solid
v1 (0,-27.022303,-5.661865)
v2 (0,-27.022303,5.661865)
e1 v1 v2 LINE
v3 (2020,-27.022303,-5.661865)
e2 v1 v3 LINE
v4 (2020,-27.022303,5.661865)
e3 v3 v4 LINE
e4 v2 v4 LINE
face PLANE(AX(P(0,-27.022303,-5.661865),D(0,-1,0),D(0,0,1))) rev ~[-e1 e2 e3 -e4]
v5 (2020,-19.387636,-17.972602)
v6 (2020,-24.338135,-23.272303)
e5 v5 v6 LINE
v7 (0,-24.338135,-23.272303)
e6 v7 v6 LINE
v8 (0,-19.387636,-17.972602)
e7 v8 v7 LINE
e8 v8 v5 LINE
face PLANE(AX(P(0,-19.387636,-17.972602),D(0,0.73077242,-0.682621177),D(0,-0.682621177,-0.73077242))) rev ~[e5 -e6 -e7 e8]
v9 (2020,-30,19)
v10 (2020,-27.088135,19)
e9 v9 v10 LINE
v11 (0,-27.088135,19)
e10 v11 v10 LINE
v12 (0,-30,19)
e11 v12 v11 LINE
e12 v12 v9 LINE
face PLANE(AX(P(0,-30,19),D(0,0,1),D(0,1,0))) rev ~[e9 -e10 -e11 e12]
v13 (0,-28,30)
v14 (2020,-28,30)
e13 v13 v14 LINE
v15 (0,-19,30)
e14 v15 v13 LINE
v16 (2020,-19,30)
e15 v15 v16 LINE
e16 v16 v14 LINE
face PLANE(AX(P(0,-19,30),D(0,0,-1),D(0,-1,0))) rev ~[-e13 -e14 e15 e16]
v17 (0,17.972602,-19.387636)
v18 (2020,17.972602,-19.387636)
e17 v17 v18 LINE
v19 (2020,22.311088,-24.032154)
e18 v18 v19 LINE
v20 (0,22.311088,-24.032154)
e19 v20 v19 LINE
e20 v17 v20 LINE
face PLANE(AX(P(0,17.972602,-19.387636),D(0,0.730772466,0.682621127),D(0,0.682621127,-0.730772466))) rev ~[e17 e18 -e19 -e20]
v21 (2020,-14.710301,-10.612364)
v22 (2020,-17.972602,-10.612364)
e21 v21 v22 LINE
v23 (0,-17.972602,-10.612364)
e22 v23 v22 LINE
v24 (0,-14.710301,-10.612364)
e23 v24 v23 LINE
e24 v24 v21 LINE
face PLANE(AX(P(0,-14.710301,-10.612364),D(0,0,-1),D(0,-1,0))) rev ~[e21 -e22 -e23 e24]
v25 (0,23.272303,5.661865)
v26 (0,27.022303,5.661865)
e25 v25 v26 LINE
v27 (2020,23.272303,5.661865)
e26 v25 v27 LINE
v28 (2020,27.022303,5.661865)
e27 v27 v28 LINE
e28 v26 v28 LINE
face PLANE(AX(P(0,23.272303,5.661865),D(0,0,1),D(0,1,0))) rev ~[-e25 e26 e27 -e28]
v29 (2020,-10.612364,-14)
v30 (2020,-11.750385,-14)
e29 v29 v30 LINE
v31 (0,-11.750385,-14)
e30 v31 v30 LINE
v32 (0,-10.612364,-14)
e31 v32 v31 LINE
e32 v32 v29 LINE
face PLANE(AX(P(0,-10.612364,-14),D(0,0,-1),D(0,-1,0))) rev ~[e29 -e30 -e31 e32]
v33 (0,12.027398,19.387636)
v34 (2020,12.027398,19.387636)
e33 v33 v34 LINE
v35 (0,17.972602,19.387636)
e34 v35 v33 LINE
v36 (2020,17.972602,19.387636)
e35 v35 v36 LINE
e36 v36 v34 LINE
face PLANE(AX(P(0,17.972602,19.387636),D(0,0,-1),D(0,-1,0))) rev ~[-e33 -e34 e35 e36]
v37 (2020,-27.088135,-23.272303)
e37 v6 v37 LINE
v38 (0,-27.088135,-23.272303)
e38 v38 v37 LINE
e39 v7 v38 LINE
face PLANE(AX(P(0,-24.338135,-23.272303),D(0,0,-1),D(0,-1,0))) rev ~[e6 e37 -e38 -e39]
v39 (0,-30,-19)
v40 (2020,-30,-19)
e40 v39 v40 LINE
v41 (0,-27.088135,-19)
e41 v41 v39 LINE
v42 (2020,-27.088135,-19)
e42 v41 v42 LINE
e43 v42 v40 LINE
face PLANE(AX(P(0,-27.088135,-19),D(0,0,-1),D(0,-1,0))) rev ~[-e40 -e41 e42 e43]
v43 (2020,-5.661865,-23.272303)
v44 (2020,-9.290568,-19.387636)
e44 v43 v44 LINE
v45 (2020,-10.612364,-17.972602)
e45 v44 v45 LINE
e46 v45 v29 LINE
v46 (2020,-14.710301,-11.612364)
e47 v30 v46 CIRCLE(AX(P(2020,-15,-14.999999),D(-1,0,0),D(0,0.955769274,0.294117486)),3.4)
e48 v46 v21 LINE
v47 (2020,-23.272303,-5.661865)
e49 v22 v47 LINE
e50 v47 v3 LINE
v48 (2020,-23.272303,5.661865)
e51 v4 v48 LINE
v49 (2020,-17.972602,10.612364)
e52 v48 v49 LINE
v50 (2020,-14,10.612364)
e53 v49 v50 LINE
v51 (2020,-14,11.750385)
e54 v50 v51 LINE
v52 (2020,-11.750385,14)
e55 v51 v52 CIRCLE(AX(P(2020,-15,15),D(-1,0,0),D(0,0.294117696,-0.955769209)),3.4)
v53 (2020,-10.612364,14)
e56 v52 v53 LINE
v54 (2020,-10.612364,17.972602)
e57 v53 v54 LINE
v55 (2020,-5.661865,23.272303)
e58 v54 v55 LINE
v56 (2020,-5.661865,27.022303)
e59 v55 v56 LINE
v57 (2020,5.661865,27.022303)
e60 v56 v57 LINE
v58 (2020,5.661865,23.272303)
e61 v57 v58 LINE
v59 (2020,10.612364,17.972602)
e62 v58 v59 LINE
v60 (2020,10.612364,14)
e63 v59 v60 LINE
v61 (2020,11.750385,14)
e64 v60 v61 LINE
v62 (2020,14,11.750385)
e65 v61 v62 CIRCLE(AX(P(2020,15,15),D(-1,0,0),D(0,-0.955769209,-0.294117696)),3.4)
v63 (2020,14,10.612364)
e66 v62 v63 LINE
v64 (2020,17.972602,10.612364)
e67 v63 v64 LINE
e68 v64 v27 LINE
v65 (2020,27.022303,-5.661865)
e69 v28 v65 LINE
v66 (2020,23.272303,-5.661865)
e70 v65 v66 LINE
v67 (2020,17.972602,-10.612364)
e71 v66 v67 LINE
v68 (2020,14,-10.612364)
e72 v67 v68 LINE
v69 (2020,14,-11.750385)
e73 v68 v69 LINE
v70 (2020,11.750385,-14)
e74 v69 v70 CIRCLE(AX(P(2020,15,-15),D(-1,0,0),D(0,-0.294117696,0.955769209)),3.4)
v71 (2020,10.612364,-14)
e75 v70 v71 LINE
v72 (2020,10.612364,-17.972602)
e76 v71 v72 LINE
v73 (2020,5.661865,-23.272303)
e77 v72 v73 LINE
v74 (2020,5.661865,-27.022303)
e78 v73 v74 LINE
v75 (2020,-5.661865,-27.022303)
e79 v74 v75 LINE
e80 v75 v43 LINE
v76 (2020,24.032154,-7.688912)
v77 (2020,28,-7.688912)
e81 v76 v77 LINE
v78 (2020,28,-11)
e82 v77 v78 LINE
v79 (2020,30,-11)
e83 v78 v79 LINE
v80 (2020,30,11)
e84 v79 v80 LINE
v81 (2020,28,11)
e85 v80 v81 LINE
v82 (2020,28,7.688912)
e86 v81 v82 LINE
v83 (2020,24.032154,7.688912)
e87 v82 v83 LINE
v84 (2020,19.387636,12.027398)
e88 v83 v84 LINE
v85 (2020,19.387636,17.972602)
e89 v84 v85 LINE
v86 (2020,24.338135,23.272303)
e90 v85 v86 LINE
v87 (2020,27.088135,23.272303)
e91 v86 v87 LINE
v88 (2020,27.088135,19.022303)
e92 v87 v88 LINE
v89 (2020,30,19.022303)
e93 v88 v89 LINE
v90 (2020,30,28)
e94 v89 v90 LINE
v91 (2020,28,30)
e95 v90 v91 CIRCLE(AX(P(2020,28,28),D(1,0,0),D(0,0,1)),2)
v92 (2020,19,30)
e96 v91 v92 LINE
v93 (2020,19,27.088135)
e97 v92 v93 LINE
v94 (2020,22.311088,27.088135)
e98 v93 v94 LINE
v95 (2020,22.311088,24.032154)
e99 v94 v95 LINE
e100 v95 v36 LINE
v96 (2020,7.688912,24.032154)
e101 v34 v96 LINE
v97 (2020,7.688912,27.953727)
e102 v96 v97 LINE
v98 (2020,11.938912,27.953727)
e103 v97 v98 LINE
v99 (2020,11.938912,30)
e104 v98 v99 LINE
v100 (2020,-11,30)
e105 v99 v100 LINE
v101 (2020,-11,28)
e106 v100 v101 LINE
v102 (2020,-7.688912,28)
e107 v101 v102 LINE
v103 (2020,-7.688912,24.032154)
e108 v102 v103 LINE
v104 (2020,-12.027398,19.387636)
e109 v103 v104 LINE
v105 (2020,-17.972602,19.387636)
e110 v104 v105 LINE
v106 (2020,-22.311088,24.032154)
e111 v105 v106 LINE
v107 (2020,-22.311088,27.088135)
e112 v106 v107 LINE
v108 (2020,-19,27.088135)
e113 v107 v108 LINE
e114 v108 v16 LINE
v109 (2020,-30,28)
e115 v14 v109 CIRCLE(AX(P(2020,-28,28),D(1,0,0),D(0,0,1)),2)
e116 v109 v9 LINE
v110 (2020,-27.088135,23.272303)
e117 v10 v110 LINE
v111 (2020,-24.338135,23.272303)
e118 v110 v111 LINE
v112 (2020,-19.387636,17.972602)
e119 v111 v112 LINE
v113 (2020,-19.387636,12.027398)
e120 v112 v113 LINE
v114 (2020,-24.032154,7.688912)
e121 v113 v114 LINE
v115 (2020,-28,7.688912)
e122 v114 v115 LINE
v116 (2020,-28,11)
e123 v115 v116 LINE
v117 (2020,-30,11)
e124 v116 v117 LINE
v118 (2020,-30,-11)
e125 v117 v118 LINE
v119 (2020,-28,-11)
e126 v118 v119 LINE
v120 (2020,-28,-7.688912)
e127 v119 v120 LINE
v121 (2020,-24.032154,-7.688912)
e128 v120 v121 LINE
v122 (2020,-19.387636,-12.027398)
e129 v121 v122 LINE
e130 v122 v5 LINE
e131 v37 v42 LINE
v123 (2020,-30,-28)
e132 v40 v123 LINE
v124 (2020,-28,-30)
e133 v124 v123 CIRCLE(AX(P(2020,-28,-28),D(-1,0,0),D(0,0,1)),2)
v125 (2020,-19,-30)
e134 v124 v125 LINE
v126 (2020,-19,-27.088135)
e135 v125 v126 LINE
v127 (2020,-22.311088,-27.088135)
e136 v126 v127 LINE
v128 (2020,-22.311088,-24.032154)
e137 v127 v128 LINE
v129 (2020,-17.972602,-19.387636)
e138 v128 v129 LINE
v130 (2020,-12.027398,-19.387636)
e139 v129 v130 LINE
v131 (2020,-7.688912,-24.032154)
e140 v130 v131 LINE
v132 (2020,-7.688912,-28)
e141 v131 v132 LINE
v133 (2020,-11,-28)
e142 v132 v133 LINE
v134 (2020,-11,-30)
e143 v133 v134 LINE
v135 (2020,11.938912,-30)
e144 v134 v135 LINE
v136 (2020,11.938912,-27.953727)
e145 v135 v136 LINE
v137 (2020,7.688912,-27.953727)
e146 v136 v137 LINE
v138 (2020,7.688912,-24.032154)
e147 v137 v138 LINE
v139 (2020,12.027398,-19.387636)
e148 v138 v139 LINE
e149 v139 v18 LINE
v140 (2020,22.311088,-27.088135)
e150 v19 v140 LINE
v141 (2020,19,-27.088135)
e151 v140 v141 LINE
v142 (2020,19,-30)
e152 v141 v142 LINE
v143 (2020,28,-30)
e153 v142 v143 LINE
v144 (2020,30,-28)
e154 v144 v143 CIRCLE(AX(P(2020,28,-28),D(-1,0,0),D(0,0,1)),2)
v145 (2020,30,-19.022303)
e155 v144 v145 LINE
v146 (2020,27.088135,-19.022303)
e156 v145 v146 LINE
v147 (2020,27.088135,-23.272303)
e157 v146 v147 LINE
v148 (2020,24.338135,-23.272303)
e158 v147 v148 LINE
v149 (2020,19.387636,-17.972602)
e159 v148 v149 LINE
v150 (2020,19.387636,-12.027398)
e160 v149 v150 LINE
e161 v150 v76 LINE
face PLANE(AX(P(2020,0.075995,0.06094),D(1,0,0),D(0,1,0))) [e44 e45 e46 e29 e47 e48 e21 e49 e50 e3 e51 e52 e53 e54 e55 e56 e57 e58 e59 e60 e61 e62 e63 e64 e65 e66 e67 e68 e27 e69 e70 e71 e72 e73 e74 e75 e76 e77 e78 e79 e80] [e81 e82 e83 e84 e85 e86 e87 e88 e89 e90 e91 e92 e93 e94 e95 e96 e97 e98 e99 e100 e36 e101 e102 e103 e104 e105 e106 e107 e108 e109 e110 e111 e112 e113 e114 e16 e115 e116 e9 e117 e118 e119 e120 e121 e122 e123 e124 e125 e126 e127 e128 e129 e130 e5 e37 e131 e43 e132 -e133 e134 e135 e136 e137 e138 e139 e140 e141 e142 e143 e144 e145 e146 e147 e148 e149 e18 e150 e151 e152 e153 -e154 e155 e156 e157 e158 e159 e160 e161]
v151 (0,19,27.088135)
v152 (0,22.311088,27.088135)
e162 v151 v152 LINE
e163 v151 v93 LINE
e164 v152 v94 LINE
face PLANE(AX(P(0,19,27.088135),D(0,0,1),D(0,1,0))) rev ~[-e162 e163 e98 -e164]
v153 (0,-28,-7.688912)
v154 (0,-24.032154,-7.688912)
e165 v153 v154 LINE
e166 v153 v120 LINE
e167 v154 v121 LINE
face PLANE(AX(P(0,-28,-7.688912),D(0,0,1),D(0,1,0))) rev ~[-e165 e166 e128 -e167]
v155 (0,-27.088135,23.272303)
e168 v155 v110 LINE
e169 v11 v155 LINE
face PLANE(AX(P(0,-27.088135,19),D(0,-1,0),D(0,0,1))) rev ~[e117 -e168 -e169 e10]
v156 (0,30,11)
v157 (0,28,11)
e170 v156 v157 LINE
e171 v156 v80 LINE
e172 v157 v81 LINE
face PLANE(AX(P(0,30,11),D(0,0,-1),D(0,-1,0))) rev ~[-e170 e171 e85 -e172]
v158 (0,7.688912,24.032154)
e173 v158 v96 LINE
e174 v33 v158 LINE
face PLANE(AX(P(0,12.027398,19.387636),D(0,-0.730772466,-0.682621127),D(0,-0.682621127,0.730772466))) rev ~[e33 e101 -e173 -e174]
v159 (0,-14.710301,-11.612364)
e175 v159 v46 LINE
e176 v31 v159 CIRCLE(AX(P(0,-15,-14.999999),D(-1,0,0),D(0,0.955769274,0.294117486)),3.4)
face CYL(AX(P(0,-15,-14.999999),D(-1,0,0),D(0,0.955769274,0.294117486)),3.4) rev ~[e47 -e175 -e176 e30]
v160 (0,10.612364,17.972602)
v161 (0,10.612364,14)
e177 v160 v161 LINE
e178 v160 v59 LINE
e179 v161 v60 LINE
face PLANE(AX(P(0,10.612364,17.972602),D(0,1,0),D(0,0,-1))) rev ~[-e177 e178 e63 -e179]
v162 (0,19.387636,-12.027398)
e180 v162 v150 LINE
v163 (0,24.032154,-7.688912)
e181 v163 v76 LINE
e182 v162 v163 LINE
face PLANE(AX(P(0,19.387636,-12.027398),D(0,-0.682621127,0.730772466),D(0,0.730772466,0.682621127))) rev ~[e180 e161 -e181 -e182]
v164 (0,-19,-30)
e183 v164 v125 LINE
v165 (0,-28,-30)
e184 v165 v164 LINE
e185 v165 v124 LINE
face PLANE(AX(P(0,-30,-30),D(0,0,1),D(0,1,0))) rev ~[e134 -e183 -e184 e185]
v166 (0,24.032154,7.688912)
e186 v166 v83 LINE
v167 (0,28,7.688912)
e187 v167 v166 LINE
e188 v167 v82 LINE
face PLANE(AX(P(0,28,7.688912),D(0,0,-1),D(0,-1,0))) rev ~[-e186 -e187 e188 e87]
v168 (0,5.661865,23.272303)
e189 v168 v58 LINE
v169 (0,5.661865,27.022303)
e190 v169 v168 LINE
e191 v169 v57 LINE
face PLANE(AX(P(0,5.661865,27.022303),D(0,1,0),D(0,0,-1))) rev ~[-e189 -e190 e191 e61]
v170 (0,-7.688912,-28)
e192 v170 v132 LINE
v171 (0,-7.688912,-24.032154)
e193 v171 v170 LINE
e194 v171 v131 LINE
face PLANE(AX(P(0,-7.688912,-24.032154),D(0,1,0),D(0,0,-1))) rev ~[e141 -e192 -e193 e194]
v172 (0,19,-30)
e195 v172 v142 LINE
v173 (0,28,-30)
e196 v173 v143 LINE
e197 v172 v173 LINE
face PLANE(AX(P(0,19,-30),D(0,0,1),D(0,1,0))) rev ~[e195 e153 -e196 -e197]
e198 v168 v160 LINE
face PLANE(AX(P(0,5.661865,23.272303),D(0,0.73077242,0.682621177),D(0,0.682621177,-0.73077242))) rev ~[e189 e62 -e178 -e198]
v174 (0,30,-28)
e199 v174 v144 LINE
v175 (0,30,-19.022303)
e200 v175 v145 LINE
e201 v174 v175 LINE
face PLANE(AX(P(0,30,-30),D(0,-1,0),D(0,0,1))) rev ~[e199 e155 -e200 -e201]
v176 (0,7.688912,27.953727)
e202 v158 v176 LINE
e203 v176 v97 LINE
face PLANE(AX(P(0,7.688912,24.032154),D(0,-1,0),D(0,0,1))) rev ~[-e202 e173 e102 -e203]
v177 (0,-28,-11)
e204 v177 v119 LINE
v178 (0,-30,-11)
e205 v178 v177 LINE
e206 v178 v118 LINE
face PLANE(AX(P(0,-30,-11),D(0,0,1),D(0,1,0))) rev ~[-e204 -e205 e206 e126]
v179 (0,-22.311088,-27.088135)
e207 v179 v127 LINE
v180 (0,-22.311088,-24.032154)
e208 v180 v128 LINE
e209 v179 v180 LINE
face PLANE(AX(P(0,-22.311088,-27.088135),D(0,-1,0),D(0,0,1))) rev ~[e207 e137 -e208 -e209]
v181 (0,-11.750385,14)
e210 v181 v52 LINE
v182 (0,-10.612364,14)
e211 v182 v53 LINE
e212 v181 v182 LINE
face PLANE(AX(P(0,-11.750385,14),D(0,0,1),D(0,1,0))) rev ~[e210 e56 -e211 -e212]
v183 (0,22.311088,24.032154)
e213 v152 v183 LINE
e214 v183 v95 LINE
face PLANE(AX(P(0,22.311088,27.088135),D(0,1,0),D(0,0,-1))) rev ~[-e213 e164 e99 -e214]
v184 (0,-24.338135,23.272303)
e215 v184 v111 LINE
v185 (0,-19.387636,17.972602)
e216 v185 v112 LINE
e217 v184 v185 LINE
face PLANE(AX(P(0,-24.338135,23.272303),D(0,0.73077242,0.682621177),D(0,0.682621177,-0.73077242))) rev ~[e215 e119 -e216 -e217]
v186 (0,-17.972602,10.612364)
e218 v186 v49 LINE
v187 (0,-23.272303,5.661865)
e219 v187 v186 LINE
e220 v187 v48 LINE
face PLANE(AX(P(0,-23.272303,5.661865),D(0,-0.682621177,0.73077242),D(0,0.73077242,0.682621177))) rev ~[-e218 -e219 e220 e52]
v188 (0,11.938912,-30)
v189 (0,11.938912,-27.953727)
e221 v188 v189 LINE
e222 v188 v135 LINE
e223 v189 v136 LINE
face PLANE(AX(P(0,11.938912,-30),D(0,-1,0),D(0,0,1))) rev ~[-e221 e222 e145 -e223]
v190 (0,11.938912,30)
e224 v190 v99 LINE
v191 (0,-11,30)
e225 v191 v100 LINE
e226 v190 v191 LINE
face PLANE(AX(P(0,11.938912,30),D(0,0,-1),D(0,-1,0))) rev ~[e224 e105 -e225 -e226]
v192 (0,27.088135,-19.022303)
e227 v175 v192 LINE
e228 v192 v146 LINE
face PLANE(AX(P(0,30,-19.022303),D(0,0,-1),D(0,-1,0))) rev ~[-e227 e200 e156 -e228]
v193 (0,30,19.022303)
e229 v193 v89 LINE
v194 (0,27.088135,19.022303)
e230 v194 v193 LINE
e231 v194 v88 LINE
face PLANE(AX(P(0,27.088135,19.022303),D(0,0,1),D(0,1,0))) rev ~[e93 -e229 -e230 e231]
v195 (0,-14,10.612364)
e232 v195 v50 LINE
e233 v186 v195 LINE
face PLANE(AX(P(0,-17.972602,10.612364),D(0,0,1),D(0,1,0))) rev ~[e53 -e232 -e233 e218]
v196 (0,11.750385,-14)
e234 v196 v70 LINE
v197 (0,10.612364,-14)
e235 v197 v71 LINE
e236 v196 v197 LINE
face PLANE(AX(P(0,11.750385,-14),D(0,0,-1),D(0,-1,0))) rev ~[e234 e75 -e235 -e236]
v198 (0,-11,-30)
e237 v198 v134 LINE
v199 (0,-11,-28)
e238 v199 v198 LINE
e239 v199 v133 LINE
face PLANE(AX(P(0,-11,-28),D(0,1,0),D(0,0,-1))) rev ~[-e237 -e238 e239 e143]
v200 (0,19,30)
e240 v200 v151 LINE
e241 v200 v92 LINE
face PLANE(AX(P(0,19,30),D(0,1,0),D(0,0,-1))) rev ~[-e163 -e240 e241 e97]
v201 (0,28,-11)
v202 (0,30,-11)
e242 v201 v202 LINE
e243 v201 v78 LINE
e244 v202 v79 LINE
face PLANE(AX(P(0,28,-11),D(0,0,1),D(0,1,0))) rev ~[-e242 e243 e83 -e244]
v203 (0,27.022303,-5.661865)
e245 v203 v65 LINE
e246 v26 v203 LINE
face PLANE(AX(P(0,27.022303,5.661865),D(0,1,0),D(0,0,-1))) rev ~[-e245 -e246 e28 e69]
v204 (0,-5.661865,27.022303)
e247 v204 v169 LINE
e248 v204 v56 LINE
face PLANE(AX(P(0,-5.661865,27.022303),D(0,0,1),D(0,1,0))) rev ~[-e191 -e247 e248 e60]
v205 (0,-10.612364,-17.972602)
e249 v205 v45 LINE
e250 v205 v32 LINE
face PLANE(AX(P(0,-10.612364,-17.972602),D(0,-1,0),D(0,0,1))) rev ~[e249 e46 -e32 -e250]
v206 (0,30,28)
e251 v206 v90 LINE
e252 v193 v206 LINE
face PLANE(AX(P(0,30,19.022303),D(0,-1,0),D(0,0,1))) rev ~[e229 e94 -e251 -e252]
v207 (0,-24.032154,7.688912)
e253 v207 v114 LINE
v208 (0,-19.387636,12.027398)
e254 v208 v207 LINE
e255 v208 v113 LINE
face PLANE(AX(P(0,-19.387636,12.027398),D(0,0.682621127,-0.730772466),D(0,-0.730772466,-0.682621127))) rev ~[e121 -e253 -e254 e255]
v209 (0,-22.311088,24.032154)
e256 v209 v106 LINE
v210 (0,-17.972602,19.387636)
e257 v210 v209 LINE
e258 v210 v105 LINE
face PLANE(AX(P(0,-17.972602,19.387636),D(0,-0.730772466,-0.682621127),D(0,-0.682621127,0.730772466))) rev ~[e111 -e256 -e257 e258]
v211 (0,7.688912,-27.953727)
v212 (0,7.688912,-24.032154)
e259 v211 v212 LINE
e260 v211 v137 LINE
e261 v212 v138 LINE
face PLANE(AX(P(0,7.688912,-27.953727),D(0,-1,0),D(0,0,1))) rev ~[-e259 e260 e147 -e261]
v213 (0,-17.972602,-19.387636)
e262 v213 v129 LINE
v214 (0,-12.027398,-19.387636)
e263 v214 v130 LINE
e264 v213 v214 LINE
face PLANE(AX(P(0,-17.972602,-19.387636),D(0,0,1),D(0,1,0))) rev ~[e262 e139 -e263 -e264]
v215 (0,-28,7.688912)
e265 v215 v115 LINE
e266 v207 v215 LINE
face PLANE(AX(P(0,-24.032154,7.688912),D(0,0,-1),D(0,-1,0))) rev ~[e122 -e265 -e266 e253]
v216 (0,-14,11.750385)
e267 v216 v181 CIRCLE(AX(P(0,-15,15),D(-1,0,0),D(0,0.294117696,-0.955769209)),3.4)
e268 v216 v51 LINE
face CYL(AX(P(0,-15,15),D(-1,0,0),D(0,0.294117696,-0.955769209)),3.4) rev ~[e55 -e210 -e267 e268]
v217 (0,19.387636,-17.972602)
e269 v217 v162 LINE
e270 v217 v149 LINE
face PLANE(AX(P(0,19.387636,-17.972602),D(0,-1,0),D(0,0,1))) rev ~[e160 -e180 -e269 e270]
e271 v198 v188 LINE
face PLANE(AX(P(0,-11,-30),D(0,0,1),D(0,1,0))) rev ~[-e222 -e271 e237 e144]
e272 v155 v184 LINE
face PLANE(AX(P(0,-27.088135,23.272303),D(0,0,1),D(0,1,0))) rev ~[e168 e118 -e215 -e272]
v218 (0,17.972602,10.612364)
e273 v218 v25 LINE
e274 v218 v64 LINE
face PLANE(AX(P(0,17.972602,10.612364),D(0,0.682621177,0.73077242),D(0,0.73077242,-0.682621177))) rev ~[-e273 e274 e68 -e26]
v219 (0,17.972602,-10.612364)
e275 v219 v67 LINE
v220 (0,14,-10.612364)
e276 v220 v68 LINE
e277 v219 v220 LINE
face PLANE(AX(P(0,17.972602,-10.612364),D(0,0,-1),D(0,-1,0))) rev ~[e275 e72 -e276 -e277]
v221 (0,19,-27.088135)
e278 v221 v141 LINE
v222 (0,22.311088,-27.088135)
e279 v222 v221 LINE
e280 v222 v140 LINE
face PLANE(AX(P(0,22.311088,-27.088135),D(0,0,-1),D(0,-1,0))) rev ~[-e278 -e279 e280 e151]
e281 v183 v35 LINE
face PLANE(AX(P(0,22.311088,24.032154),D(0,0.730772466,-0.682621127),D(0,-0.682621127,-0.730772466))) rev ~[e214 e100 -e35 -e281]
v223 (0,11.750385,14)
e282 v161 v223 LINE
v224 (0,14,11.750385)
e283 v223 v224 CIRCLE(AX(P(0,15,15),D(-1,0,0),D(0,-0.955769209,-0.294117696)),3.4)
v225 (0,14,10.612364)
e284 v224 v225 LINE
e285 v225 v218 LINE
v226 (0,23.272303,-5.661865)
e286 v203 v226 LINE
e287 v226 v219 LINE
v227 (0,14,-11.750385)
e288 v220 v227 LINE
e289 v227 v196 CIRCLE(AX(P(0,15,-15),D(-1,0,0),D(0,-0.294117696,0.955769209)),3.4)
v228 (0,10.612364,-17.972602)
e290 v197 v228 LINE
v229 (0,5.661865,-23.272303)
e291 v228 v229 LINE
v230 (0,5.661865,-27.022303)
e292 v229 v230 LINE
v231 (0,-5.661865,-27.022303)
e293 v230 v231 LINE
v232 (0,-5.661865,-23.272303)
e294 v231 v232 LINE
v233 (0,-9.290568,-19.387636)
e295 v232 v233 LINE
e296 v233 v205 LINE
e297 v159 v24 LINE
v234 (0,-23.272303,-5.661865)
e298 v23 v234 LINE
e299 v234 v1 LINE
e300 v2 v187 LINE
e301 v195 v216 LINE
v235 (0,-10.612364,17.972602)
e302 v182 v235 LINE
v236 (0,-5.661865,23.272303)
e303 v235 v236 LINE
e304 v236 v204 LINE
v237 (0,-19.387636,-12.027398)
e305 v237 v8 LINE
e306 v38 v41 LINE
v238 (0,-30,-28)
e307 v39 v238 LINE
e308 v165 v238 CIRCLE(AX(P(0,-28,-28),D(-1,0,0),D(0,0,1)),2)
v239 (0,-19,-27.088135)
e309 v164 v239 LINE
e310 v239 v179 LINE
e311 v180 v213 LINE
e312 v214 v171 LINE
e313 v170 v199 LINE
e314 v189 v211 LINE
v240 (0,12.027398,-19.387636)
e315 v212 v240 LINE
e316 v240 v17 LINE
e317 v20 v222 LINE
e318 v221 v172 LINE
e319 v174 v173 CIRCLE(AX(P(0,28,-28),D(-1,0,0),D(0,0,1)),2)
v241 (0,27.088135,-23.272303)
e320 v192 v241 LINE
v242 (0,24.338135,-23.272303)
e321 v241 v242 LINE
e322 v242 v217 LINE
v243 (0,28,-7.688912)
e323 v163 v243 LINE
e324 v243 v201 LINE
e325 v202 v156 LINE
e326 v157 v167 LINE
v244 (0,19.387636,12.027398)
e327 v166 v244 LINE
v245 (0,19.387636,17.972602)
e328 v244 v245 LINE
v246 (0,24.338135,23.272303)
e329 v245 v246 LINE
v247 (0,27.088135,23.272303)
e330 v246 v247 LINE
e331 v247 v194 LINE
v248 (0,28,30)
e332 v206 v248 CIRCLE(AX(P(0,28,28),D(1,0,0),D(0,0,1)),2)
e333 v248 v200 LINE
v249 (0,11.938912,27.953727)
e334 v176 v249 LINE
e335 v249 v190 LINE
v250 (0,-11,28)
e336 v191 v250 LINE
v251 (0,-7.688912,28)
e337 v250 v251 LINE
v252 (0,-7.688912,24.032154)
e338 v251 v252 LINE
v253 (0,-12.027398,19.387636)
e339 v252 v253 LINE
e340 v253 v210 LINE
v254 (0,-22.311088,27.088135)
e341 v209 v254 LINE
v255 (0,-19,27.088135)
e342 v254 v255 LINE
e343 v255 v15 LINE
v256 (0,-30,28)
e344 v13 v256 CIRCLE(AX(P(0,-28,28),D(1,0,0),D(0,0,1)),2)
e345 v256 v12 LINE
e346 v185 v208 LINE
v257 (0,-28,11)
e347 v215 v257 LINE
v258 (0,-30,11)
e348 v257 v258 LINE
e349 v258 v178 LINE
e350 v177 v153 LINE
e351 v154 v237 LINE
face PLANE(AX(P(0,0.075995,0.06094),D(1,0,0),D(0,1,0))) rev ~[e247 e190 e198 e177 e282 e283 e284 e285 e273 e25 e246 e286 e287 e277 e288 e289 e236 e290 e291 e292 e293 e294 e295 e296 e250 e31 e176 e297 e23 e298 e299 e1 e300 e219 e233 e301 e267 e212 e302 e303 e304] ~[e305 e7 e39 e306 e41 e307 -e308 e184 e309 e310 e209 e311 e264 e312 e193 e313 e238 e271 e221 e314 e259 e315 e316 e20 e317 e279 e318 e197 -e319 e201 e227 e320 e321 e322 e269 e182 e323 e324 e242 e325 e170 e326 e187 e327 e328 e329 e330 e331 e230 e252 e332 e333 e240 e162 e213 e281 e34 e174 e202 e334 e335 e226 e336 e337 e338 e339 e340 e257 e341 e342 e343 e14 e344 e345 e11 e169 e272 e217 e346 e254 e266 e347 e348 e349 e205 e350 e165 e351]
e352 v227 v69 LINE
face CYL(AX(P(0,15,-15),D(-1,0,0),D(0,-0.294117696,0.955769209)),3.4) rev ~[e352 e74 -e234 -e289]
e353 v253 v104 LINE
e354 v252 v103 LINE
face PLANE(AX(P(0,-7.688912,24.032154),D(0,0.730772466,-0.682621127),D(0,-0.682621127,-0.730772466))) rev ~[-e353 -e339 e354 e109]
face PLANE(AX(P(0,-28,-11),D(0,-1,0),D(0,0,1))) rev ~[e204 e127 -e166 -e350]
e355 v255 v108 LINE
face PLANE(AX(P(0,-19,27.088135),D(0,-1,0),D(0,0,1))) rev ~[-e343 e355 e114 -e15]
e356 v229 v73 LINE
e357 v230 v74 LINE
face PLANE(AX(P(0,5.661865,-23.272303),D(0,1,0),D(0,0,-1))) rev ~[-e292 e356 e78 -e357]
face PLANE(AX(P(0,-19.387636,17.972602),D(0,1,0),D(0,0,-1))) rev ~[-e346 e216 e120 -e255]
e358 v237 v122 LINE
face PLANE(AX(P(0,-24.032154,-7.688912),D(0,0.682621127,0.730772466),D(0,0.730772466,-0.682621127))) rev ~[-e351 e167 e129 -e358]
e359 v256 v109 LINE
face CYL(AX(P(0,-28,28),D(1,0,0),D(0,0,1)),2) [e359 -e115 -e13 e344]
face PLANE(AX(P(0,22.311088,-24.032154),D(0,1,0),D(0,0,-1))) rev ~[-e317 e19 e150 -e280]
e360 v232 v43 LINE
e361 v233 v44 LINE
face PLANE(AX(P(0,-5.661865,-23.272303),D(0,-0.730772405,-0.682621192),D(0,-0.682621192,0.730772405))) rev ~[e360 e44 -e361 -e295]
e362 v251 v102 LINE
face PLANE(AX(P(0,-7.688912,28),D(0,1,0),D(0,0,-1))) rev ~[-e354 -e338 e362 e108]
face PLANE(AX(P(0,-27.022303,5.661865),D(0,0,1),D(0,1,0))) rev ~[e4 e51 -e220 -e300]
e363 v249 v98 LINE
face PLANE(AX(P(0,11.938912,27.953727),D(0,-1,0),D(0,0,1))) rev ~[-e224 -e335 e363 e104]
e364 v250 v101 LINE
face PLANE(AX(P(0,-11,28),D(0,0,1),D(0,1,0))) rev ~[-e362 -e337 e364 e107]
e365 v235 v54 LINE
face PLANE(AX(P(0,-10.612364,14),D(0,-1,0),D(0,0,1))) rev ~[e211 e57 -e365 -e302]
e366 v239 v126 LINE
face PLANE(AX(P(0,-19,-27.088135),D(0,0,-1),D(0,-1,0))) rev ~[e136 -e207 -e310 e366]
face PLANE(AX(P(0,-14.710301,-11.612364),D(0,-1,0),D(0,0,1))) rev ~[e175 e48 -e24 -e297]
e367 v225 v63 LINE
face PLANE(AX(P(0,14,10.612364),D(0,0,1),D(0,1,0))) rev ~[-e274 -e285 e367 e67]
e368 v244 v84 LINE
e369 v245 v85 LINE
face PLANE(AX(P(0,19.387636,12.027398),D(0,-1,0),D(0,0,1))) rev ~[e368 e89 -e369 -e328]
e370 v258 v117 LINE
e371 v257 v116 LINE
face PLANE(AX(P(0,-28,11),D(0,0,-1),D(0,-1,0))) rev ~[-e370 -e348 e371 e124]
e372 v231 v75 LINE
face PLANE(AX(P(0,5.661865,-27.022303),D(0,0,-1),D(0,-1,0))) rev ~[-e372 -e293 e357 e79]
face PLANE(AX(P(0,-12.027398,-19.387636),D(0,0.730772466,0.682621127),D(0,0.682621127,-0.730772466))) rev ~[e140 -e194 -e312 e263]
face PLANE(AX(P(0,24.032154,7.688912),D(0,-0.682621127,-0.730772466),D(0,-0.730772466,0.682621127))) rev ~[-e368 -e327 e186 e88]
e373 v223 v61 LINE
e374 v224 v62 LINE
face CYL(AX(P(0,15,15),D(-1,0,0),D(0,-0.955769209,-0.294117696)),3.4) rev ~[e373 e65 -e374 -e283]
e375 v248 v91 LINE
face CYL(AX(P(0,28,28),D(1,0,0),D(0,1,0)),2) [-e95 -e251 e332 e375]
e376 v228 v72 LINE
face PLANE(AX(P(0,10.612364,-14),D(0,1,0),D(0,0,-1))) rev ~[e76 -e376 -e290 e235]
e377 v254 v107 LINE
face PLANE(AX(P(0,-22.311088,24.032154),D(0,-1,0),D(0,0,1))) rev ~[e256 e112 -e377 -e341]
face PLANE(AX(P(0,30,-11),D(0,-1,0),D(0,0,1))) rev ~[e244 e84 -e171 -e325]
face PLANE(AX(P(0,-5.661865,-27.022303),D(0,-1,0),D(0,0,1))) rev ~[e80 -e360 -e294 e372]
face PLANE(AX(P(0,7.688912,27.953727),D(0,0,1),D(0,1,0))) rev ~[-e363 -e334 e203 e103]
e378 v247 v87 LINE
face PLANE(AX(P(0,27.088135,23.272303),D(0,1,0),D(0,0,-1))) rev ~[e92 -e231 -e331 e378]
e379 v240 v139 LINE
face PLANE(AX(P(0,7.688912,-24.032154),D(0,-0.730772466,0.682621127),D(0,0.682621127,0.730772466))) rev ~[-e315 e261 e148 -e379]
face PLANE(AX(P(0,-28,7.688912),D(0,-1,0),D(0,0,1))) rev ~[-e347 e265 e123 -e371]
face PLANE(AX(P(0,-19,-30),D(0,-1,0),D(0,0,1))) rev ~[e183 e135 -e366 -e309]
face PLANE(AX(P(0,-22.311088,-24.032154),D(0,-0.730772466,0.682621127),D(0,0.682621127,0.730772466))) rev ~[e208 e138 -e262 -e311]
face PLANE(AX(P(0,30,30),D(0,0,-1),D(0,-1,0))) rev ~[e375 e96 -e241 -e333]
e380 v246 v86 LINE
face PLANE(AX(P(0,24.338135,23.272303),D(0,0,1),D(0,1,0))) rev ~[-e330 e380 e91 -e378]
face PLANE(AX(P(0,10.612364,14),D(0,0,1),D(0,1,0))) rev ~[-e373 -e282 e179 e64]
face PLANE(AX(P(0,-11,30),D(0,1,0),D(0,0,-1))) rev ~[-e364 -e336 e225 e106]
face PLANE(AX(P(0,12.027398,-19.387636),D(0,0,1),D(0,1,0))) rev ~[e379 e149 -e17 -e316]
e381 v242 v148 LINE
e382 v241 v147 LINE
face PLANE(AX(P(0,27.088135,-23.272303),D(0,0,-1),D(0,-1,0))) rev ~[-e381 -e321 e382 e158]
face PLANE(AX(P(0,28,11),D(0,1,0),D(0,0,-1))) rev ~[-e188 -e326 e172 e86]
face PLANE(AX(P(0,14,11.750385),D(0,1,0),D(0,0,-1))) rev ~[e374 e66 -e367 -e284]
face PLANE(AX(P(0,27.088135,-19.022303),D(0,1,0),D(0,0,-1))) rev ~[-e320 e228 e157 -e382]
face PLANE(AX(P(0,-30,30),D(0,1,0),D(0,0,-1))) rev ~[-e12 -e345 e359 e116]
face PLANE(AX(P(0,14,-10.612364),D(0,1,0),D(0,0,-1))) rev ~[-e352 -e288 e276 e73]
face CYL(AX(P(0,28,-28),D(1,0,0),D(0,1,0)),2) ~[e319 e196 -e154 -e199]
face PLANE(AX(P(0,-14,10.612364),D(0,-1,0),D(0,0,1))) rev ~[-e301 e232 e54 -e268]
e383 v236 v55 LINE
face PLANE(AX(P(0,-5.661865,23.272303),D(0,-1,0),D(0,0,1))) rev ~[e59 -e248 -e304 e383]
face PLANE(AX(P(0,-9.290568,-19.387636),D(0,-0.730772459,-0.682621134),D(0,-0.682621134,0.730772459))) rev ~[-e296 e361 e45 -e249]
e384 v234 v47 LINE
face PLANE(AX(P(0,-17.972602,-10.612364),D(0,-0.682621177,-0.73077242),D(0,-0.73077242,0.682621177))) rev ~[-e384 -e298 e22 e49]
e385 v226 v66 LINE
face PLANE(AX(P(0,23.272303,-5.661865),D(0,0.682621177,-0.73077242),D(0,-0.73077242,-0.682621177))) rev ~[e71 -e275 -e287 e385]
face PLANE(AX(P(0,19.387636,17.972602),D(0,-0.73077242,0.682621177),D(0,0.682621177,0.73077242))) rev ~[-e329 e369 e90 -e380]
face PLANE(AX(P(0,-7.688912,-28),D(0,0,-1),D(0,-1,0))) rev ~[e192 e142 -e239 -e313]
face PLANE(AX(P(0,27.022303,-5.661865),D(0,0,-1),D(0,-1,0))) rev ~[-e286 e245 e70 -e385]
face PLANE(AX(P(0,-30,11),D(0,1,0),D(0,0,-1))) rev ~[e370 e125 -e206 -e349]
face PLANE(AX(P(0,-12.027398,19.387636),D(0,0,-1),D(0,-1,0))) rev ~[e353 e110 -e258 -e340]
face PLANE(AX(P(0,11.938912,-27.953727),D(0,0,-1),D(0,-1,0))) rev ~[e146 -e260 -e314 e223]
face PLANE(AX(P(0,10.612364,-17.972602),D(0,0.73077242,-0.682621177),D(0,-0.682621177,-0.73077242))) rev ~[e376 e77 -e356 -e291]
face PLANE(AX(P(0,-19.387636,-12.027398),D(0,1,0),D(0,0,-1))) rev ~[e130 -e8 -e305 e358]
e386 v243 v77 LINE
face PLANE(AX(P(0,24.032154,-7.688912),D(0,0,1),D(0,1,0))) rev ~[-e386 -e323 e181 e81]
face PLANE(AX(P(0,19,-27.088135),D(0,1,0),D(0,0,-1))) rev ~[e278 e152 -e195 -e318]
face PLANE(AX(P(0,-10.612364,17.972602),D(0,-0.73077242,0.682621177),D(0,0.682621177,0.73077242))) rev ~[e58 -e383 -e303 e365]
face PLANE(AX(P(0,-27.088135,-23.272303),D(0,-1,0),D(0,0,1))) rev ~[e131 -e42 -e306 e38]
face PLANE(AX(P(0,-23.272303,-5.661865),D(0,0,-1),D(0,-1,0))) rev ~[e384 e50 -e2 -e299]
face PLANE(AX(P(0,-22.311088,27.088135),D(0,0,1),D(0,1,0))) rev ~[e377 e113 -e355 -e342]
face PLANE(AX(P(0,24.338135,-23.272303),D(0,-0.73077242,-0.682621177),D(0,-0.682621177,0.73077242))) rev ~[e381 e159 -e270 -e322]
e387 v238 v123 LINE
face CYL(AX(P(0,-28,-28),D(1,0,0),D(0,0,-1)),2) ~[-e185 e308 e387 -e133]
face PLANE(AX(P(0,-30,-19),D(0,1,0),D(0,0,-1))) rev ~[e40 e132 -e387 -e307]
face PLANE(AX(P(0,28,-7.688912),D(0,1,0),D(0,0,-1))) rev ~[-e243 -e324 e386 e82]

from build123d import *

# Parameters (mm, degrees)
F1_DEPTH = 2020
F2_R     = 2


with BuildPart() as f1:
    # F0 (on Right) → F1 (new body)
    with BuildSketch(Plane.YZ):
        with BuildLine():
            Line((-10.612364, -17.972602), (-9.290568, -19.387636))
            Line((-9.290568, -19.387636), (-5.661865, -23.272303))
            Line((-5.661865, -23.272303), (-5.661865, -27.022303))
            Line((-5.661865, -27.022303), (5.661865, -27.022303))
            Line((5.661865, -27.022303), (5.661865, -23.272303))
            Line((5.661865, -23.272303), (10.612364, -17.972602))
            Line((10.612364, -17.972602), (10.612364, -14))
            Line((10.612364, -14), (11.750385, -14))
            ThreePointArc((11.750385, -14), (17.404163, -17.404163), (14, -11.750385))
            Line((14, -11.750385), (14, -10.612364))
            Line((14, -10.612364), (17.972602, -10.612364))
            Line((17.972602, -10.612364), (23.272303, -5.661865))
            Line((23.272303, -5.661865), (27.022303, -5.661865))
            Line((27.022303, -5.661865), (27.022303, 5.661865))
            Line((27.022303, 5.661865), (23.272303, 5.661865))
            Line((23.272303, 5.661865), (17.972602, 10.612364))
            Line((17.972602, 10.612364), (14, 10.612364))
            Line((14, 10.612364), (14, 11.750385))
            ThreePointArc((14, 11.750385), (17.404163, 17.404163), (11.750385, 14))
            Line((11.750385, 14), (10.612364, 14))
            Line((10.612364, 14), (10.612364, 17.972602))
            Line((10.612364, 17.972602), (5.661865, 23.272303))
            Line((5.661865, 23.272303), (5.661865, 27.022303))
            Line((5.661865, 27.022303), (-5.661865, 27.022303))
            Line((-5.661865, 27.022303), (-5.661865, 23.272303))
            Line((-5.661865, 23.272303), (-10.612364, 17.972602))
            Line((-10.612364, 17.972602), (-10.612364, 14))
            Line((-10.612364, 14), (-11.750385, 14))
            ThreePointArc((-11.750385, 14), (-17.404163, 17.404163), (-14, 11.750385))
            Line((-14, 11.750385), (-14, 10.612364))
            Line((-14, 10.612364), (-17.972602, 10.612364))
            Line((-17.972602, 10.612364), (-23.272303, 5.661865))
            Line((-23.272303, 5.661865), (-27.022303, 5.661865))
            Line((-27.022303, 5.661865), (-27.022303, -5.661865))
            Line((-27.022303, -5.661865), (-23.272303, -5.661865))
            Line((-23.272303, -5.661865), (-17.972602, -10.612364))
            Line((-17.972602, -10.612364), (-14.710301, -10.612364))
            Line((-14.710301, -10.612364), (-14.710301, -11.612364))
            ThreePointArc((-14.710301, -11.612364), (-17.134687, -17.646339), (-11.750385, -14))
            Line((-11.750385, -14), (-10.612364, -14))
            Line((-10.612364, -14), (-10.612364, -17.972602))
        make_face()
        Polygon((30, 19.022303), (30, 30), (19, 30), (19, 27.088135), (22.311088, 27.088135), (22.311088, 24.032154), (17.972602, 19.387636), (14.198971, 19.387636), (12.027398, 19.387636), (7.688912, 24.032154), (7.688912, 26.953727), (7.688912, 27.953727), (11.938912, 27.953727), (11.938912, 30), (-11, 30), (-11, 28), (-7.688912, 28), (-7.688912, 24.032154), (-12.027398, 19.387636), (-17.972602, 19.387636), (-22.311088, 24.032154), (-22.311088, 27.088135), (-19, 27.088135), (-19, 30), (-30, 30), (-30, 19), (-27.088135, 19), (-27.088135, 23.272303), (-24.338135, 23.272303), (-19.387636, 17.972602), (-19.387636, 12.027398), (-24.032154, 7.688912), (-28, 7.688912), (-28, 11), (-30, 11), (-30, -11), (-28, -11), (-28, -7.688912), (-24.032154, -7.688912), (-19.387636, -12.027398), (-19.387636, -17.972602), (-24.338135, -23.272303), (-27.088135, -23.272303), (-27.088135, -19), (-30, -19), (-30, -30), (-19, -30), (-19, -27.088135), (-22.311088, -27.088135), (-22.311088, -24.032154), (-17.972602, -19.387636), (-12.027398, -19.387636), (-7.688912, -24.032154), (-7.688912, -28), (-11, -28), (-11, -30), (11.938912, -30), (11.938912, -27.953727), (7.688912, -27.953727), (7.688912, -26.953727), (7.688912, -24.032154), (12.027398, -19.387636), (14.198971, -19.387636), (17.972602, -19.387636), (22.311088, -24.032154), (22.311088, -27.088135), (19, -27.088135), (19, -30), (30, -30), (30, -19.022303), (27.088135, -19.022303), (27.088135, -23.272303), (24.338135, -23.272303), (19.387636, -17.972602), (19.387636, -12.027398), (24.032154, -7.688912), (28, -7.688912), (28, -11), (30, -11), (30, 11), (28, 11), (28, 7.688912), (24.032154, 7.688912), (19.387636, 12.027398), (19.387636, 17.972602), (24.338135, 23.272303), (27.088135, 23.272303), (27.088135, 19.022303), align=None)
        with BuildLine():
            Line((-5.661865, -23.272303), (-9.290568, -19.387636))
            Line((-9.290568, -19.387636), (-10.612364, -17.972602))
            Line((-10.612364, -17.972602), (-10.612364, -14))
            Line((-10.612364, -14), (-11.750385, -14))
            ThreePointArc((-11.750385, -14), (-17.134687, -17.646339), (-14.710301, -11.612364))
            Line((-14.710301, -11.612364), (-14.710301, -10.612364))
            Line((-14.710301, -10.612364), (-17.972602, -10.612364))
            Line((-17.972602, -10.612364), (-23.272303, -5.661865))
            Line((-23.272303, -5.661865), (-27.022303, -5.661865))
            Line((-27.022303, -5.661865), (-27.022303, 5.661865))
            Line((-27.022303, 5.661865), (-23.272303, 5.661865))
            Line((-23.272303, 5.661865), (-17.972602, 10.612364))
            Line((-17.972602, 10.612364), (-14, 10.612364))
            Line((-14, 10.612364), (-14, 11.750385))
            ThreePointArc((-14, 11.750385), (-17.404163, 17.404163), (-11.750385, 14))
            Line((-11.750385, 14), (-10.612364, 14))
            Line((-10.612364, 14), (-10.612364, 17.972602))
            Line((-10.612364, 17.972602), (-5.661865, 23.272303))
            Line((-5.661865, 23.272303), (-5.661865, 27.022303))
            Line((-5.661865, 27.022303), (5.661865, 27.022303))
            Line((5.661865, 27.022303), (5.661865, 23.272303))
            Line((5.661865, 23.272303), (10.612364, 17.972602))
            Line((10.612364, 17.972602), (10.612364, 14))
            Line((10.612364, 14), (11.750385, 14))
            ThreePointArc((11.750385, 14), (17.404163, 17.404163), (14, 11.750385))
            Line((14, 11.750385), (14, 10.612364))
            Line((14, 10.612364), (17.972602, 10.612364))
            Line((17.972602, 10.612364), (23.272303, 5.661865))
            Line((23.272303, 5.661865), (27.022303, 5.661865))
            Line((27.022303, 5.661865), (27.022303, -5.661865))
            Line((27.022303, -5.661865), (23.272303, -5.661865))
            Line((23.272303, -5.661865), (17.972602, -10.612364))
            Line((17.972602, -10.612364), (14, -10.612364))
            Line((14, -10.612364), (14, -11.750385))
            ThreePointArc((14, -11.750385), (17.404163, -17.404163), (11.750385, -14))
            Line((11.750385, -14), (10.612364, -14))
            Line((10.612364, -14), (10.612364, -17.972602))
            Line((10.612364, -17.972602), (5.661865, -23.272303))
            Line((5.661865, -23.272303), (5.661865, -27.022303))
            Line((5.661865, -27.022303), (-5.661865, -27.022303))
            Line((-5.661865, -27.022303), (-5.661865, -23.272303))
        make_face(mode=Mode.SUBTRACT)
    extrude(amount=F1_DEPTH)

    # F2
    f2_edges = [f1.edges().sort_by_distance(p)[0] for p in [
        (1010, -30, 30),
        (1010, 30, 30),
        (1010, 30, -30),
        (1010, -30, -30),
    ]]
    fillet(f2_edges, radius=F2_R)


solid = f1.part
